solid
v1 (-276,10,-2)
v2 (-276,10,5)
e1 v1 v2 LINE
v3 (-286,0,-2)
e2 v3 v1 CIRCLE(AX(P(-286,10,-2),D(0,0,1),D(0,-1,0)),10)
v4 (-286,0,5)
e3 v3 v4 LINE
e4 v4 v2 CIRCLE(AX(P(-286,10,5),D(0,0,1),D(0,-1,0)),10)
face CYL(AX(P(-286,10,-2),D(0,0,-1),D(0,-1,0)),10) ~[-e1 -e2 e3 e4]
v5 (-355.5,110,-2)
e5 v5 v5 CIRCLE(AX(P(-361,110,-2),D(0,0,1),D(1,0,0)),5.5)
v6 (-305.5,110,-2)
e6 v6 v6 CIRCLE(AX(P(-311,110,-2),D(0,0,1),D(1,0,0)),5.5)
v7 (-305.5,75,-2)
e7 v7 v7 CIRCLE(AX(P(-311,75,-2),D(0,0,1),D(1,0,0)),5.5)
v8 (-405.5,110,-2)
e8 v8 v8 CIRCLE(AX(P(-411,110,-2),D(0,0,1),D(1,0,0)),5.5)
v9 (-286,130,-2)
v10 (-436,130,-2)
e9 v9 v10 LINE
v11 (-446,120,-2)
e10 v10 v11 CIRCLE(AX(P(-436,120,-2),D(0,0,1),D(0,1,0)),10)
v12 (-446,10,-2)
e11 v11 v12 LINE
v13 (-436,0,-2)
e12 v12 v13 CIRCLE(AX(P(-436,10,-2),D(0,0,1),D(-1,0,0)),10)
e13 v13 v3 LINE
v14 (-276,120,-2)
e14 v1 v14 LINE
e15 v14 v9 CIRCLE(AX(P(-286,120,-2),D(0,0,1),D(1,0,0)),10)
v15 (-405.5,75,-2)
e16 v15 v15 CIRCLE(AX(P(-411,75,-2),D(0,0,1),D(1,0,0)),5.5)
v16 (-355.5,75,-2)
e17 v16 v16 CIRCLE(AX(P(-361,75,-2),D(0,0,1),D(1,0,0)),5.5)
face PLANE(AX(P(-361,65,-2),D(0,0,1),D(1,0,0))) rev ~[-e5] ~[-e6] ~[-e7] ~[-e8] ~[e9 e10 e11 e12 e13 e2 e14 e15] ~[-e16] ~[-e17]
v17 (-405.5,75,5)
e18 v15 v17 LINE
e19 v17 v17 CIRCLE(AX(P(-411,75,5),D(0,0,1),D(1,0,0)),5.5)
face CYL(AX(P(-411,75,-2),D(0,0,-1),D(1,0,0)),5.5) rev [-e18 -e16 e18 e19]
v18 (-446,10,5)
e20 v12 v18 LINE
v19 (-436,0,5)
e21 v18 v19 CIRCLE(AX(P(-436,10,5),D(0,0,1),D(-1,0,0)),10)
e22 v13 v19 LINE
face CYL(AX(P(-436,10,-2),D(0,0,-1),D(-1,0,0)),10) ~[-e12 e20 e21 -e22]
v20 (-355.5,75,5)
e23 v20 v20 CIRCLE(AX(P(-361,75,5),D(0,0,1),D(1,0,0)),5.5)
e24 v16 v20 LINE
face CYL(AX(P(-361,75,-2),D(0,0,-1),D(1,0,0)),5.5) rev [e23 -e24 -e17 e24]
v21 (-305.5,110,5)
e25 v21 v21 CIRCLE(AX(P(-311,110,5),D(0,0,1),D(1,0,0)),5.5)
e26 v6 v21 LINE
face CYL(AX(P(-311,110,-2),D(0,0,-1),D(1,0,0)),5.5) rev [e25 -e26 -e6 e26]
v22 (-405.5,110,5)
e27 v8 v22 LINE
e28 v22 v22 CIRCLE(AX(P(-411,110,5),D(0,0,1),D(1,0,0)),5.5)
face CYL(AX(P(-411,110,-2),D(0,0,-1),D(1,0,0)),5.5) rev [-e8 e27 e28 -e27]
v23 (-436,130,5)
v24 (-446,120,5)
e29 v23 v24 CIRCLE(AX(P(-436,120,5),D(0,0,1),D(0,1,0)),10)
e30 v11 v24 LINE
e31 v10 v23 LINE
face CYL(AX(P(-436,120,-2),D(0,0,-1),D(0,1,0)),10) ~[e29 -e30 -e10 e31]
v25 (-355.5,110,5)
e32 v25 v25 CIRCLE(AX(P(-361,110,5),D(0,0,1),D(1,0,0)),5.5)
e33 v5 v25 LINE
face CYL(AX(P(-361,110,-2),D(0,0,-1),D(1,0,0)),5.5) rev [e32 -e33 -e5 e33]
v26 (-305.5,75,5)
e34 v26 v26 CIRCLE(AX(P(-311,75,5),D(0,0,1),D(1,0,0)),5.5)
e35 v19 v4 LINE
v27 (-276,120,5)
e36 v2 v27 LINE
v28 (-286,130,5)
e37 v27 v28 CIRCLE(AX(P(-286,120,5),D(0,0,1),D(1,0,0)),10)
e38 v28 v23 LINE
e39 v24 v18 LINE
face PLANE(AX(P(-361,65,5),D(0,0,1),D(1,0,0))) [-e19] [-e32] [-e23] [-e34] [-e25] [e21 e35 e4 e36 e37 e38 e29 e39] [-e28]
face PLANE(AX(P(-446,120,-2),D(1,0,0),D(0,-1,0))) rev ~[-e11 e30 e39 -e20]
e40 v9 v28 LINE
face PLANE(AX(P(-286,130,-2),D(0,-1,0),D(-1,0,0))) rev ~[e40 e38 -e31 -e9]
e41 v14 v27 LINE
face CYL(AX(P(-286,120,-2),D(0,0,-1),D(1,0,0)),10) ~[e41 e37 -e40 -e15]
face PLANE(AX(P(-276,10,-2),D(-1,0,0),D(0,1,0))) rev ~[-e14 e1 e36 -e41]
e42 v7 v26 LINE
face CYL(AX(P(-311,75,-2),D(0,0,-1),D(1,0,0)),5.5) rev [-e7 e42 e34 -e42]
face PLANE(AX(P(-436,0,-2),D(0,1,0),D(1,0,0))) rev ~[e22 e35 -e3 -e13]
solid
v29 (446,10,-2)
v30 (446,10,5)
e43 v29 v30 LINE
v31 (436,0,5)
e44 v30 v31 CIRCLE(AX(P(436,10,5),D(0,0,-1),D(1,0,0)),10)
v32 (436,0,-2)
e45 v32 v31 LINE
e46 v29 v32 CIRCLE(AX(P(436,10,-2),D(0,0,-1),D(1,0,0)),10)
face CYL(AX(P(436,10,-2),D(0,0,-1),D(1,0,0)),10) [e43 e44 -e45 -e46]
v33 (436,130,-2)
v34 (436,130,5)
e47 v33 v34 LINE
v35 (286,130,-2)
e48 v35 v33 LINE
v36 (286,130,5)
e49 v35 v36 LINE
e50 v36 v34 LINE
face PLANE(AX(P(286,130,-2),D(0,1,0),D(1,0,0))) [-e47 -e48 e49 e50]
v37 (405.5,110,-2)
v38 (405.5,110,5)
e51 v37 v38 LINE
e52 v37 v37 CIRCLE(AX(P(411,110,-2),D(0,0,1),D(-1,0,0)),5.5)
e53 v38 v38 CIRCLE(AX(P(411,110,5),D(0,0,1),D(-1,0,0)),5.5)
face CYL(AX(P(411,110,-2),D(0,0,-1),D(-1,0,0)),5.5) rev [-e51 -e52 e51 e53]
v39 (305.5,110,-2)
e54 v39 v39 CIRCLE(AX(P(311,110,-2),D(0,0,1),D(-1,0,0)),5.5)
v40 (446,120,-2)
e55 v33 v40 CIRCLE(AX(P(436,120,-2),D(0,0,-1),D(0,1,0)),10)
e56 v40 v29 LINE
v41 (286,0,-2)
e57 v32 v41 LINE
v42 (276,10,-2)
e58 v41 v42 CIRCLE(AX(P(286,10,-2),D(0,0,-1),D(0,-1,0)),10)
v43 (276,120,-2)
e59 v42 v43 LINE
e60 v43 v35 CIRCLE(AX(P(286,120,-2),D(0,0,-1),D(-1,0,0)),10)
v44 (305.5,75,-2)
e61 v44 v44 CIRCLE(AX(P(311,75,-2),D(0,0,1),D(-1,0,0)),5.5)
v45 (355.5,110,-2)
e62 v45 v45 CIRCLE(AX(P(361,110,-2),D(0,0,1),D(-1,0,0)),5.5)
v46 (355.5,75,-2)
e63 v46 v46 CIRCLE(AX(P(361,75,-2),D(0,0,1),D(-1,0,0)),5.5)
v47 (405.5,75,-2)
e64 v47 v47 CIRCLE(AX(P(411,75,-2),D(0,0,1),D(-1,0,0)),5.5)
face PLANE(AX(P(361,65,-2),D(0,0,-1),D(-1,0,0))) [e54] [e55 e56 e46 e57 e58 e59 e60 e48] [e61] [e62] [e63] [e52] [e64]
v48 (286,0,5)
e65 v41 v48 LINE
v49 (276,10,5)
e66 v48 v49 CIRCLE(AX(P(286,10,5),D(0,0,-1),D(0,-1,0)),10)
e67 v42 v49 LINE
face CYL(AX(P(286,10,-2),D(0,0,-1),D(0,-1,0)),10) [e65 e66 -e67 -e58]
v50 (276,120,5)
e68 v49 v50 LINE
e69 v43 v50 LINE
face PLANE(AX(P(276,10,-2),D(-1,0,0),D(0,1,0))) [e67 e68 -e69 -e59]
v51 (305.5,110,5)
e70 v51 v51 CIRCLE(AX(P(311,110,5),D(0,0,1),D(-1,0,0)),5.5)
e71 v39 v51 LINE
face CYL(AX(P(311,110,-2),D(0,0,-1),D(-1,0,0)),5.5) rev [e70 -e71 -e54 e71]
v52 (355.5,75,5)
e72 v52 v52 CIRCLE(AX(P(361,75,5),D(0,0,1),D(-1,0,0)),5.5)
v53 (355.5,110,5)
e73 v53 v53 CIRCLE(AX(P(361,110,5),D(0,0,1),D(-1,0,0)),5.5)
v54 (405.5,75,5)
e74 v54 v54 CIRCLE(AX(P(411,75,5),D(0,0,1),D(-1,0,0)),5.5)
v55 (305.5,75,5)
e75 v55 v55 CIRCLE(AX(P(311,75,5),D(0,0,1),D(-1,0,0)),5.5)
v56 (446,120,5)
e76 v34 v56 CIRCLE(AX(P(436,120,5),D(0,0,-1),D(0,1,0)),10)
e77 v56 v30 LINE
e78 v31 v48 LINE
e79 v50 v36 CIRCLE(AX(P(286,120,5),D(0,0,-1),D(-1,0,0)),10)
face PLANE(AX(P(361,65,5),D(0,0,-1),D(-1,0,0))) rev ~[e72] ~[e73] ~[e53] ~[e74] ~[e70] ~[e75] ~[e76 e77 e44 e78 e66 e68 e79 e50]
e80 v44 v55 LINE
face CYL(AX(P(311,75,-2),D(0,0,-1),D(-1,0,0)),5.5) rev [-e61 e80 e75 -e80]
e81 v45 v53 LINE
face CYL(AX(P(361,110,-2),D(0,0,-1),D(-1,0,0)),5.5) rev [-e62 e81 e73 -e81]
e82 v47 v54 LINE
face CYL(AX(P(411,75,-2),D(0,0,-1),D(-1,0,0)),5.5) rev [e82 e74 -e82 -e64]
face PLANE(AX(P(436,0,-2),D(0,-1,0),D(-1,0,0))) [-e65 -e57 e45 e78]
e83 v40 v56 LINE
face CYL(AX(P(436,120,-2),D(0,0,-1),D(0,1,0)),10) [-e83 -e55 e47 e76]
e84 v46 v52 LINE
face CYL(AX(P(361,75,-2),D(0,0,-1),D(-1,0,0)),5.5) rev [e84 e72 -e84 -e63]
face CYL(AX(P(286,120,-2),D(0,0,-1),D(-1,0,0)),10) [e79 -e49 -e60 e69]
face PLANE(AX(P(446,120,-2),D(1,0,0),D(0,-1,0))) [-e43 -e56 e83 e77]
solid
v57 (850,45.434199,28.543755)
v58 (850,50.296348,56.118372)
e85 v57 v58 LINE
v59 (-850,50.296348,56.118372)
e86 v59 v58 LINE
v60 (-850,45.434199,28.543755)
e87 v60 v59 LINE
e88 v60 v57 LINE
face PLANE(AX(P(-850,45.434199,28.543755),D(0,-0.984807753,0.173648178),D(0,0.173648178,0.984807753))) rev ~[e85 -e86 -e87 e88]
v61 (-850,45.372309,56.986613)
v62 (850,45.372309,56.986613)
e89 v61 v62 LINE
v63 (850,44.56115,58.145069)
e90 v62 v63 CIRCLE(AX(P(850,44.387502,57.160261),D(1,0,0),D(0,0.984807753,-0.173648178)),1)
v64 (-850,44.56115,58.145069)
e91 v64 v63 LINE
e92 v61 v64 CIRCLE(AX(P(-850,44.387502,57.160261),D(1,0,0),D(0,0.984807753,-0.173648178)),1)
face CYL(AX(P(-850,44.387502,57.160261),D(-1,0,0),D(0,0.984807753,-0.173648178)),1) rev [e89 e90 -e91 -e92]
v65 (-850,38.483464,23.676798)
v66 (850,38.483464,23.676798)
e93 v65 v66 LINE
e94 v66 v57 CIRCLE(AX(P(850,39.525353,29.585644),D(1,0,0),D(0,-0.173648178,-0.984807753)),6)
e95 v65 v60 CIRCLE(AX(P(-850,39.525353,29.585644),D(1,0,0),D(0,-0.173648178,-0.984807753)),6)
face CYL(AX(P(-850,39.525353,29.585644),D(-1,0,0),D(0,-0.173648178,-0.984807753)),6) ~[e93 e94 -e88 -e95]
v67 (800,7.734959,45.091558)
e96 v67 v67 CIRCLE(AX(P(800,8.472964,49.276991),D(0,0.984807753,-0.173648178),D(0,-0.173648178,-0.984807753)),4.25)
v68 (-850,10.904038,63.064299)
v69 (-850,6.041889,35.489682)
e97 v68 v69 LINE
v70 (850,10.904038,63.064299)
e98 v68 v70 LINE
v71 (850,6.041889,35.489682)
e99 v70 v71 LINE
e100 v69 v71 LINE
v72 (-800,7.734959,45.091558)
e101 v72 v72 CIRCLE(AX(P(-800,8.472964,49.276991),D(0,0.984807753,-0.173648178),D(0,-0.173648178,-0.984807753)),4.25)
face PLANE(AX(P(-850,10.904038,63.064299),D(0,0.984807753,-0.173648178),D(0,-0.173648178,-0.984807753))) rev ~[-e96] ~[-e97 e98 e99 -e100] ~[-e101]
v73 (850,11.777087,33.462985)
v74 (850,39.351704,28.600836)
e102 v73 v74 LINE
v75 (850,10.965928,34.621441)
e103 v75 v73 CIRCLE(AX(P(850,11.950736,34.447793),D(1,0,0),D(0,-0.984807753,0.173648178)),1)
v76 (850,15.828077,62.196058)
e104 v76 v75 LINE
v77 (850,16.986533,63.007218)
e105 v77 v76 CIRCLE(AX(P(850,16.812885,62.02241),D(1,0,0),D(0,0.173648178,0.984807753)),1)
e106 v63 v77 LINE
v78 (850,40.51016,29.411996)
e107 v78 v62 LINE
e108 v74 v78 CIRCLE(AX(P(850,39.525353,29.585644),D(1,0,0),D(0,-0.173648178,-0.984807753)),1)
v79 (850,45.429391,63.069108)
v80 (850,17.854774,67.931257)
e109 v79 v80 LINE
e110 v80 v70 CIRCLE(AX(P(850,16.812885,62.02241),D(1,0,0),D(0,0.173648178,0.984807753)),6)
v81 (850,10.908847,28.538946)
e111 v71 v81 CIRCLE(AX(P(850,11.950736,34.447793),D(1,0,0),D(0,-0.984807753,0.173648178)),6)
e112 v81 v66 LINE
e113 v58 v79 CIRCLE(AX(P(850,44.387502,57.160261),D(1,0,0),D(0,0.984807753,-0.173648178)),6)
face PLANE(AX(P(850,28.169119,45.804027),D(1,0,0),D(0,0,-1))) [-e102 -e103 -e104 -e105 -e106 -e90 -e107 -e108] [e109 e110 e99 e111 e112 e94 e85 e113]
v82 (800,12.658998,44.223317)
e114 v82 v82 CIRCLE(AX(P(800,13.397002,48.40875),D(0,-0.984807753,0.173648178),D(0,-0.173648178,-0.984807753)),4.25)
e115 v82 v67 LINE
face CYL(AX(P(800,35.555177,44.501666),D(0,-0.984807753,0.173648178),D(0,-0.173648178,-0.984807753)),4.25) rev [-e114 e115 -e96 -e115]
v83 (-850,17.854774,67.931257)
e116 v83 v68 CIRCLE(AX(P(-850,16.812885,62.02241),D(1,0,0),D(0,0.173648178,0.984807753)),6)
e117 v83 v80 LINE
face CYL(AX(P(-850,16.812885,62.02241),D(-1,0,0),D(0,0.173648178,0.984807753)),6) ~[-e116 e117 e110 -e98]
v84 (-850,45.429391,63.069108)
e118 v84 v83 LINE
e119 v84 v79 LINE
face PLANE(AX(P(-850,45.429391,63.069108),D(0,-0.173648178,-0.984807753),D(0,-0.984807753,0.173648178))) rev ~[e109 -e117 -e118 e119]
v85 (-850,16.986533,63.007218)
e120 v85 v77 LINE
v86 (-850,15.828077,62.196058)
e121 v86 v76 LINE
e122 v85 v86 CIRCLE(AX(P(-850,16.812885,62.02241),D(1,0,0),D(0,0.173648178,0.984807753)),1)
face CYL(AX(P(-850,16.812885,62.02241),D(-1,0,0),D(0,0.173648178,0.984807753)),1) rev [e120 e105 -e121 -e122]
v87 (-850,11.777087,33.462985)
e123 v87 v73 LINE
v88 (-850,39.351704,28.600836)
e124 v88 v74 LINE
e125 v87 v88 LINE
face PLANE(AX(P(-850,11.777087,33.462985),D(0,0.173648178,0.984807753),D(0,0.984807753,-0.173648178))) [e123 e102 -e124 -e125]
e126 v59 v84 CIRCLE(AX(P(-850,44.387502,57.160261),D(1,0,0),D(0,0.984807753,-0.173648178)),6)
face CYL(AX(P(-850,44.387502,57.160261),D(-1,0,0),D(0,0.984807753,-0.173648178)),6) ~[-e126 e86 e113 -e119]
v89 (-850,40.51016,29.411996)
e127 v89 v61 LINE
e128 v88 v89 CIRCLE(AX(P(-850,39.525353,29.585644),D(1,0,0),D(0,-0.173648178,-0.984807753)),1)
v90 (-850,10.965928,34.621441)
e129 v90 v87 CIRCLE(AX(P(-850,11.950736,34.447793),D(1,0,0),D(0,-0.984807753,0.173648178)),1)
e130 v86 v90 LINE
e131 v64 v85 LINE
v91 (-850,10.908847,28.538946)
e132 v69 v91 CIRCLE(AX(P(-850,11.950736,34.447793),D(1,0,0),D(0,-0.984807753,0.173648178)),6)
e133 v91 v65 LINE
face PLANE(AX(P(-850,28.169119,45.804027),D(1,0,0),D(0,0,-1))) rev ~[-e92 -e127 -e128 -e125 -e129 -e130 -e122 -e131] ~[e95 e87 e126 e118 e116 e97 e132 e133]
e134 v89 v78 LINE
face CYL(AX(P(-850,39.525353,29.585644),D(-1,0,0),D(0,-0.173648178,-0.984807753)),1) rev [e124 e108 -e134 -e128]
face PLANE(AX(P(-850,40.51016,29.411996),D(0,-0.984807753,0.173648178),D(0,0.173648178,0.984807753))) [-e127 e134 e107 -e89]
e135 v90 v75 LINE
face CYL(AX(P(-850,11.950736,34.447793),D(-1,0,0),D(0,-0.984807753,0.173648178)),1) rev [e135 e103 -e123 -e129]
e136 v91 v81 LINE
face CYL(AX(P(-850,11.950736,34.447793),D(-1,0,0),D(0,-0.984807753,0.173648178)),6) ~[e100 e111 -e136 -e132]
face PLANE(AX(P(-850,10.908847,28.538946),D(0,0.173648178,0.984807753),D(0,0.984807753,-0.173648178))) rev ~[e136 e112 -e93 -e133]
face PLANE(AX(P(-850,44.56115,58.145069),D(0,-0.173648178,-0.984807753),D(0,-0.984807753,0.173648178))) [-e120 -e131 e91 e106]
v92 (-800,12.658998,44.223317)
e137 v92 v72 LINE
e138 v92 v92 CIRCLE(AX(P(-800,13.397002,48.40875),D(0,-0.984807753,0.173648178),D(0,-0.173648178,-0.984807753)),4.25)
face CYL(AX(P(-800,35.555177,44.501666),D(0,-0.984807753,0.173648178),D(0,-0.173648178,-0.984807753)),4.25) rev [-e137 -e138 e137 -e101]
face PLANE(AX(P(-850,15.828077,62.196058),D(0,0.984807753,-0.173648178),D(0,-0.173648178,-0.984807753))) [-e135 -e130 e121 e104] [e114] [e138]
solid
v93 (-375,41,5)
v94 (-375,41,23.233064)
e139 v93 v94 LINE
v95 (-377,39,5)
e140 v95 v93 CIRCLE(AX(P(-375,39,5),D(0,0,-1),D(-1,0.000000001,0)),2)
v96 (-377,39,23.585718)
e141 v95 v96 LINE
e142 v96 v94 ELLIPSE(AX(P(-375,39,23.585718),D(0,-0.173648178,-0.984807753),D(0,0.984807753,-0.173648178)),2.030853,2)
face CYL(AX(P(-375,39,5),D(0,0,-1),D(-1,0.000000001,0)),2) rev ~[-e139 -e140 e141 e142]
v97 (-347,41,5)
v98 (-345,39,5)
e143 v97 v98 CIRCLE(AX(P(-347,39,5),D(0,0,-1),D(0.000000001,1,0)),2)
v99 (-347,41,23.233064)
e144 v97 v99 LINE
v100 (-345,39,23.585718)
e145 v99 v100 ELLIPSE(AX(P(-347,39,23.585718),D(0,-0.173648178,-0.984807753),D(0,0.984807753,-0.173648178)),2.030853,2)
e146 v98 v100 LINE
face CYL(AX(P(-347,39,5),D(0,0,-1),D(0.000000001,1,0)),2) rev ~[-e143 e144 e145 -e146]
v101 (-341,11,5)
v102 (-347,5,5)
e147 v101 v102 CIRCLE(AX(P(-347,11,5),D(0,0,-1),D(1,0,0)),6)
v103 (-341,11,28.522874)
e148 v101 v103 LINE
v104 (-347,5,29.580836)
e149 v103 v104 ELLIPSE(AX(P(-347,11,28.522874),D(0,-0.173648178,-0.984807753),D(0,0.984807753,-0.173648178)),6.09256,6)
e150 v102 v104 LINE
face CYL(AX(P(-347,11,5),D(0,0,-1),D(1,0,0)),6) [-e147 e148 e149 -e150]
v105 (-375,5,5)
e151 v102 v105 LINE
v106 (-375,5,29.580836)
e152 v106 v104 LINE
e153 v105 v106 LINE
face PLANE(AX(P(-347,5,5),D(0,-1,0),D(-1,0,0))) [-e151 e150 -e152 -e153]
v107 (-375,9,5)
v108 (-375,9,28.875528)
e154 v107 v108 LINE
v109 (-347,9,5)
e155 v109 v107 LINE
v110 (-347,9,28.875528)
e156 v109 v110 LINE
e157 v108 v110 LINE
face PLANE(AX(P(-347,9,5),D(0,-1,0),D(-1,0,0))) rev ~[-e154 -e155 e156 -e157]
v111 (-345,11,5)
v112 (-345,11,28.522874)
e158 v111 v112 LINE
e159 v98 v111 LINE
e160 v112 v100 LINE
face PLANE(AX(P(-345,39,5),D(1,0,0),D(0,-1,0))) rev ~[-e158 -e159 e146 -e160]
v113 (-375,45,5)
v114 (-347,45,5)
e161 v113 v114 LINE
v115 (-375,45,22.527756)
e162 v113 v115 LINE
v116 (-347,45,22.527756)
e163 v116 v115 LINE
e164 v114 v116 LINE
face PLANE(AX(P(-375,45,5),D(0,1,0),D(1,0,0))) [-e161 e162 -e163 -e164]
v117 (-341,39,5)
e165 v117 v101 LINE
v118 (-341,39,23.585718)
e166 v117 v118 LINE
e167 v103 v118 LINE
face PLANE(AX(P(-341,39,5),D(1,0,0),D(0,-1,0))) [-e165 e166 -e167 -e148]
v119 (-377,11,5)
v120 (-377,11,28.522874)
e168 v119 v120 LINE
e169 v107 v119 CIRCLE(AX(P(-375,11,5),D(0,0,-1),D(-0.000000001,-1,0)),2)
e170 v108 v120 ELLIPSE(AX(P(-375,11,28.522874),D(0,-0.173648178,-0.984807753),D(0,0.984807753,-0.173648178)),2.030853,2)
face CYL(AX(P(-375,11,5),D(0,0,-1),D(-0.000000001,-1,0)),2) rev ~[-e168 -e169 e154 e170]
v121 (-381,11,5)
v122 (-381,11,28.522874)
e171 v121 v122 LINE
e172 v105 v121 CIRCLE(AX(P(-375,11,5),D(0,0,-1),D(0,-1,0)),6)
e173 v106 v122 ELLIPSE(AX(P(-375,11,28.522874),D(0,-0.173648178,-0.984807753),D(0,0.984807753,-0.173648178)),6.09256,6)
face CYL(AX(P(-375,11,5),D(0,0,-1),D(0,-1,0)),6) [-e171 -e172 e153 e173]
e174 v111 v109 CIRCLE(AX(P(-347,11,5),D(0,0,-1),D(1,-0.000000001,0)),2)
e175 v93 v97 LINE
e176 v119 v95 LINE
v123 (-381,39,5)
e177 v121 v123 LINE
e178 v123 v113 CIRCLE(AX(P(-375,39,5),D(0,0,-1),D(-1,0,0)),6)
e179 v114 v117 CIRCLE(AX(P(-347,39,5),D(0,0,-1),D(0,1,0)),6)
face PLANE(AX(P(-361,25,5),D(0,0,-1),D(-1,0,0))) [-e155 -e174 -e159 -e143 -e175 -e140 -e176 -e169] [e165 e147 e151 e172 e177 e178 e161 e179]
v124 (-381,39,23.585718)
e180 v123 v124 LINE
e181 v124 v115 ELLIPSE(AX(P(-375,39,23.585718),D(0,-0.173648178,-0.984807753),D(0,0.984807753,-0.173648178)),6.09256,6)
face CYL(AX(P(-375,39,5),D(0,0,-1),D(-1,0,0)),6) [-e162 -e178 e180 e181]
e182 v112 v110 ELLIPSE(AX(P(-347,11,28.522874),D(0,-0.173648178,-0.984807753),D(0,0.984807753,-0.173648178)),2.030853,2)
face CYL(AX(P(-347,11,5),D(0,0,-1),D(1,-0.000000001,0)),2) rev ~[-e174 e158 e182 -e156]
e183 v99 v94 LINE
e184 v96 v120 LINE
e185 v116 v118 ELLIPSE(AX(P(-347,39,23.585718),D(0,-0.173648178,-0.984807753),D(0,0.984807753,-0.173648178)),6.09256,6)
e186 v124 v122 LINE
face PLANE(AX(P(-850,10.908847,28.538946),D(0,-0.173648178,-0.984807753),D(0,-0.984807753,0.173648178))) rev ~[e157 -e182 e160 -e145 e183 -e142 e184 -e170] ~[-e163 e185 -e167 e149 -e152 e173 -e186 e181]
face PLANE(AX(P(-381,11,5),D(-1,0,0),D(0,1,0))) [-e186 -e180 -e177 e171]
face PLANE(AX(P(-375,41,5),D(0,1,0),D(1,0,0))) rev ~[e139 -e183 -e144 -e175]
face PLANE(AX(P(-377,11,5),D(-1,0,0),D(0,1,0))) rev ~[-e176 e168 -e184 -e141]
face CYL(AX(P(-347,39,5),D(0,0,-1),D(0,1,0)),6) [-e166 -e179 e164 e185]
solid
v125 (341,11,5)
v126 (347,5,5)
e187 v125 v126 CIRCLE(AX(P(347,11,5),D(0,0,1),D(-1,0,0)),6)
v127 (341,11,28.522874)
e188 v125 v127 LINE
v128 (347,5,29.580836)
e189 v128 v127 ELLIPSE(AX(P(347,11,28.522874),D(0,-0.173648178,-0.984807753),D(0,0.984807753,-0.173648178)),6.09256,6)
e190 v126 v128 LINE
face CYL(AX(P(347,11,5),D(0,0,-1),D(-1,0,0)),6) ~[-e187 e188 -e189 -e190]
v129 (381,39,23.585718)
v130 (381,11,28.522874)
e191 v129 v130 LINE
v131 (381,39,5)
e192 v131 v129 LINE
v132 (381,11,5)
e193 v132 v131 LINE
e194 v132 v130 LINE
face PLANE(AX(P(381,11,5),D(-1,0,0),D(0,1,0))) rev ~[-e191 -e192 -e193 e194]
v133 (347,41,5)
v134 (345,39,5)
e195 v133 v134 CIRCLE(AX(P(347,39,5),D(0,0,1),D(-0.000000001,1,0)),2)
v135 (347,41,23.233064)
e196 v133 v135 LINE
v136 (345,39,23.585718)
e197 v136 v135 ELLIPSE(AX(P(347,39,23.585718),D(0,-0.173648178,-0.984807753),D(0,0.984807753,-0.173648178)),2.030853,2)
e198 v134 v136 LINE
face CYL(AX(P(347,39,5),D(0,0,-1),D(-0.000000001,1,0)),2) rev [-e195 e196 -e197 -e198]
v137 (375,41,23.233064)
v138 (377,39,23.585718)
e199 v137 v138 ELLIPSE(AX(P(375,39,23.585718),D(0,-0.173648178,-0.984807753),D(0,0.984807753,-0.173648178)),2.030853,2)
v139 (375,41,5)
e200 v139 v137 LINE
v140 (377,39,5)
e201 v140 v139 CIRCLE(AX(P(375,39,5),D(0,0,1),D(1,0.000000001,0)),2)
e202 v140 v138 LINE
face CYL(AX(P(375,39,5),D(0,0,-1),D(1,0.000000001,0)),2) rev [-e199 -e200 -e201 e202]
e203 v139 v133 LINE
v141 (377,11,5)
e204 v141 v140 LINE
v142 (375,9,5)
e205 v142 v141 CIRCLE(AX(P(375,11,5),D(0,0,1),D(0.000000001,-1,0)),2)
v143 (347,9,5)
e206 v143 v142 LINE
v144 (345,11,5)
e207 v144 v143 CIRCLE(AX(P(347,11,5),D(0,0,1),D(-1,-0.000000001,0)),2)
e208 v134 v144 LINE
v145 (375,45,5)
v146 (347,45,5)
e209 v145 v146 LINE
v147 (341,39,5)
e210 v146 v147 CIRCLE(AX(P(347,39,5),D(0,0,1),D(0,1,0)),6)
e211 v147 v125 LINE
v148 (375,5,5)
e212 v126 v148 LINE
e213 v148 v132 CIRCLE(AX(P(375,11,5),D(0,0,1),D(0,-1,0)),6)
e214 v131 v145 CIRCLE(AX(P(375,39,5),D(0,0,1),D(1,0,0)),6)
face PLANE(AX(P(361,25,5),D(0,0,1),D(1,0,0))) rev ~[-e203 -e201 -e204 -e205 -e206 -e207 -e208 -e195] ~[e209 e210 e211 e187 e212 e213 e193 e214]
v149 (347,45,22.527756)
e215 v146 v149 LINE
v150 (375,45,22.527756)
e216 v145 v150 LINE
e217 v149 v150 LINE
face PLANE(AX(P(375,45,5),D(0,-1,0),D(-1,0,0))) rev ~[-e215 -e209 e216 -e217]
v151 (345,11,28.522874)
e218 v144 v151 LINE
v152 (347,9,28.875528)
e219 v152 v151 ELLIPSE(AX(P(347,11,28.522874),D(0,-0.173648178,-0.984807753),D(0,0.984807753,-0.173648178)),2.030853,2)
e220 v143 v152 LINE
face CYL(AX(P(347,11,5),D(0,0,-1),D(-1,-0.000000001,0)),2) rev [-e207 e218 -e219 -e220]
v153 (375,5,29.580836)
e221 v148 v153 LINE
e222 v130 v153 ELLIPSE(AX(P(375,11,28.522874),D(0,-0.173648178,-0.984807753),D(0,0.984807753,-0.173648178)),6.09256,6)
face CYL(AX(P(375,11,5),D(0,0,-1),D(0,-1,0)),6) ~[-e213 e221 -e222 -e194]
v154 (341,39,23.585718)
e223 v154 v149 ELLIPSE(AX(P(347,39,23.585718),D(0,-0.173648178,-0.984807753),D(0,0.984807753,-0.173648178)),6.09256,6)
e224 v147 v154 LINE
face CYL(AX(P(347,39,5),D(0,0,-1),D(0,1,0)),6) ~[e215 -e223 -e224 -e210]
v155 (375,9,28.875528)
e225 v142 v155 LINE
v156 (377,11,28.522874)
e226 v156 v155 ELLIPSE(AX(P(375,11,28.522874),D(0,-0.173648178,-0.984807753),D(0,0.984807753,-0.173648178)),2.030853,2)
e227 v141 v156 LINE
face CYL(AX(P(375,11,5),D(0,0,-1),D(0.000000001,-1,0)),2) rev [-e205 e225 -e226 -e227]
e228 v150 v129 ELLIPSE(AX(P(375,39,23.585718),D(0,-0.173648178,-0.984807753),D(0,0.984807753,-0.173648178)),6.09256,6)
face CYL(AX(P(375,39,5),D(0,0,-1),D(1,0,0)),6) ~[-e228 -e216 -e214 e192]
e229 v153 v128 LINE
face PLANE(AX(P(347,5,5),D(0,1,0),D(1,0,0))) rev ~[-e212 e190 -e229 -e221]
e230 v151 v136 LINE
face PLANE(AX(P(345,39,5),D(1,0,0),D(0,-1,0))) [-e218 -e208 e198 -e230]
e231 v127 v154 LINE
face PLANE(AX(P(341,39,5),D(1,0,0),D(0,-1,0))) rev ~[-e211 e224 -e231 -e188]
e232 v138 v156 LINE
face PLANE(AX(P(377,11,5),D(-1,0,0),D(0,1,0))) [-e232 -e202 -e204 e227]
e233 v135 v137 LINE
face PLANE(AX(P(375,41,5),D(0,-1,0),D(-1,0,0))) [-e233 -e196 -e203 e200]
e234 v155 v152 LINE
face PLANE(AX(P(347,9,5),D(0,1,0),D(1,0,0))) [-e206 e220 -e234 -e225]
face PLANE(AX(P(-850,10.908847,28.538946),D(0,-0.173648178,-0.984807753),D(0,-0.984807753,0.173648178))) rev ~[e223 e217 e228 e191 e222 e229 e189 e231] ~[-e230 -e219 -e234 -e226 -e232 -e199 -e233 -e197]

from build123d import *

# Parameters (mm, degrees)
DODANIE_WYCI_GNI_CIE1_DEPTH        = 5
DODANIE_WYCI_GNI_CIE1_DEPTH_BACK   = 2
SZKIC1_R                           = 5.5
DODANIE_WYCI_GNI_CIE1_2_DEPTH      = 5
DODANIE_WYCI_GNI_CIE1_2_DEPTH_BACK = 2
DODANIE_WYCI_GNI_CIE2_DEPTH        = 850
DODANIE_WYCI_GNI_CIE2_DEPTH_BACK   = 850
DODANIE_WYCI_GNI_CIE3_REACH        = 864.19
OTW_R_GWINTOWANY_M101_AT_2_COUNT   = 2
OTW_R_GWINTOWANY_M101_AT_2_PITCH   = 1600


with BuildPart() as part:
    # Szkic1 → Dodanie-wyciągnięcie1 (new, two sides: drawn at the far end of the back side and taken through both)
    with BuildSketch(Plane.XY.offset(-DODANIE_WYCI_GNI_CIE1_DEPTH_BACK)):
        with BuildLine():
            Line((-436, 0), (-286, 0))
            ThreePointArc((-286, 0), (-278.928932188, 2.928932188), (-276, 10))
            Line((-276, 10), (-276, 120))
            ThreePointArc((-276, 120), (-278.928932188, 127.071067812), (-286, 130))
            Line((-286, 130), (-436, 130))
            ThreePointArc((-436, 130), (-443.071067812, 127.071067812), (-446, 120))
            Line((-446, 120), (-446, 10))
            ThreePointArc((-446, 10), (-443.071067812, 2.928932188), (-436, 0))
        make_face()
        with Locations((-411, 110)):
            Circle(SZKIC1_R, mode=Mode.SUBTRACT)
        with Locations((-361, 110)):
            Circle(SZKIC1_R, mode=Mode.SUBTRACT)
        with Locations((-311, 110)):
            Circle(SZKIC1_R, mode=Mode.SUBTRACT)
        with Locations((-411, 75)):
            Circle(SZKIC1_R, mode=Mode.SUBTRACT)
        with Locations((-361, 75)):
            Circle(SZKIC1_R, mode=Mode.SUBTRACT)
        with Locations((-311, 75)):
            Circle(SZKIC1_R, mode=Mode.SUBTRACT)
    extrude(amount=DODANIE_WYCI_GNI_CIE1_DEPTH + DODANIE_WYCI_GNI_CIE1_DEPTH_BACK)


with BuildPart() as body_2:
    # Szkic1 → Dodanie-wyci_gni_cie1 2 (new, two sides: drawn at the far end of the back side and taken through both)
    with BuildSketch(Plane.XY.offset(-DODANIE_WYCI_GNI_CIE1_2_DEPTH_BACK)):
        with BuildLine():
            Line((276, 10), (276, 120))
            ThreePointArc((276, 120), (278.928932188, 127.071067812), (286, 130))
            Line((286, 130), (436, 130))
            ThreePointArc((436, 130), (443.071067812, 127.071067812), (446, 120))
            Line((446, 120), (446, 10))
            ThreePointArc((446, 10), (443.071067812, 2.928932188), (436, 0))
            Line((436, 0), (286, 0))
            ThreePointArc((286, 0), (278.928932188, 2.928932188), (276, 10))
        make_face()
        with Locations(Location((311, 110, 0), (0, 0, 180))):
            Circle(SZKIC1_R, mode=Mode.SUBTRACT)
        with Locations(Location((361, 110, 0), (0, 0, 180))):
            Circle(SZKIC1_R, mode=Mode.SUBTRACT)
        with Locations(Location((411, 110, 0), (0, 0, 180))):
            Circle(SZKIC1_R, mode=Mode.SUBTRACT)
        with Locations(Location((311, 75, 0), (0, 0, 180))):
            Circle(SZKIC1_R, mode=Mode.SUBTRACT)
        with Locations(Location((361, 75, 0), (0, 0, 180))):
            Circle(SZKIC1_R, mode=Mode.SUBTRACT)
        with Locations(Location((411, 75, 0), (0, 0, 180))):
            Circle(SZKIC1_R, mode=Mode.SUBTRACT)
    extrude(amount=DODANIE_WYCI_GNI_CIE1_2_DEPTH + DODANIE_WYCI_GNI_CIE1_2_DEPTH_BACK)


with BuildPart() as body_3:
    # Szkic2 → Dodanie-wyciągnięcie2 (new, two sides: drawn at the far end of the back side and taken through both)
    with BuildSketch(Plane(origin=(0, 0, 0), x_dir=(0, 0, -1), z_dir=(1, 0, 0)).offset(-DODANIE_WYCI_GNI_CIE2_DEPTH_BACK)):
        with BuildLine():
            Line((-28.543754975, 45.434199186), (-56.118372059, 50.296348161))
            ThreePointArc((-56.118372059, 50.296348161), (-60.601719743, 49.302413909), (-63.069107643, 45.429390709))
            Line((-63.069107643, 45.429390709), (-67.931256618, 17.854773625))
            ThreePointArc((-67.931256618, 17.854773625), (-66.937322366, 13.371425941), (-63.064299166, 10.904038041))
            Line((-63.064299166, 10.904038041), (-35.489682082, 6.041889066))
            ThreePointArc((-35.489682082, 6.041889066), (-31.006334398, 7.035823318), (-28.538946498, 10.908846518))
            Line((-28.538946498, 10.908846518), (-23.676797523, 38.483463602))
            ThreePointArc((-23.676797523, 38.483463602), (-24.670731775, 42.966811287), (-28.543754975, 45.434199186))
        make_face()
        with BuildLine():
            Line((-29.411995863, 40.510160421), (-56.986612948, 45.372309396))
            ThreePointArc((-56.986612948, 45.372309396), (-57.733837562, 45.206653687), (-58.145068878, 44.561149821))
            Line((-58.145068878, 44.561149821), (-63.007217853, 16.986532736))
            ThreePointArc((-63.007217853, 16.986532736), (-62.841562144, 16.239308122), (-62.196058278, 15.828076806))
            Line((-62.196058278, 15.828076806), (-34.621441193, 10.965927831))
            ThreePointArc((-34.621441193, 10.965927831), (-33.874216579, 11.13158354), (-33.462985263, 11.777087406))
            Line((-33.462985263, 11.777087406), (-28.600836288, 39.351704491))
            ThreePointArc((-28.600836288, 39.351704491), (-28.766491997, 40.098929105), (-29.411995863, 40.510160421))
        make_face(mode=Mode.SUBTRACT)
    extrude(amount=DODANIE_WYCI_GNI_CIE2_DEPTH + DODANIE_WYCI_GNI_CIE2_DEPTH_BACK)

    # Szkic5 → Otwór gwintowany M101 (revolve, cut)
    with BuildSketch(Plane(origin=(-800, 8.472963553, 49.276990624), x_dir=(0, -0.17364817766693064, -0.9848077530122081), z_dir=(1, 0, 0))):
        Polygon((0, 0), (0, 30.053657631), (4.25, 27.5), (4.25, 0), align=None)
    otw_r_gwintowany_m101 = revolve(axis=Axis((-800, 2.219434322, 50.379656552), (0, 0.9848077530122081, -0.17364817766693066)), mode=Mode.SUBTRACT)

    # Otwór gwintowany M101 at 2: Otwór gwintowany M101 ×2
    with Locations(*[(i * OTW_R_GWINTOWANY_M101_AT_2_PITCH, 0, 0) for i in range(1, OTW_R_GWINTOWANY_M101_AT_2_COUNT)]):
        add(otw_r_gwintowany_m101, mode=Mode.SUBTRACT)


with BuildPart() as body_4:
    # Dodanie-wyciągnięcie3: up to this plane
    dodanie_wyci_gni_cie3_end = Plane(origin=(-850, 10.908846518, 28.538946498), z_dir=(0, -0.17364817766693066, -0.984807753012208))
    # Szkic3 → Dodanie-wyciągnięcie3 (new, up to the surface)
    with BuildSketch(Plane(origin=(0, 0, 5), x_dir=(-1, 0, 0), z_dir=(0, 0, -1)), mode=Mode.PRIVATE) as dodanie_wyci_gni_cie3_sk1:
        with BuildLine():
            Line((375, 45), (347, 45))
            ThreePointArc((347, 45), (342.757359313, 43.242640687), (341, 39))
            Line((341, 39), (341, 11))
            ThreePointArc((341, 11), (342.757359313, 6.757359313), (347, 5))
            Line((347, 5), (375, 5))
            ThreePointArc((375, 5), (379.242640687, 6.757359313), (381, 11))
            Line((381, 11), (381, 39))
            ThreePointArc((381, 39), (379.242640687, 43.242640687), (375, 45))
        make_face()
        with BuildLine():
            Line((375, 41), (347, 41))
            ThreePointArc((347, 41), (345.585786438, 40.414213562), (345, 39))
            Line((345, 39), (345, 11))
            ThreePointArc((345, 11), (345.585786438, 9.585786438), (347, 9))
            Line((347, 9), (375, 9))
            ThreePointArc((375, 9), (376.414213562, 9.585786438), (377, 11))
            Line((377, 11), (377, 39))
            ThreePointArc((377, 39), (376.414213562, 40.414213562), (375, 41))
        make_face(mode=Mode.SUBTRACT)
    dodanie_wyci_gni_cie3_tool1 = split(extrude(dodanie_wyci_gni_cie3_sk1.sketch, amount=-DODANIE_WYCI_GNI_CIE3_REACH, mode=Mode.PRIVATE), bisect_by=dodanie_wyci_gni_cie3_end, keep=Keep.BOTH, mode=Mode.PRIVATE)
    add(dodanie_wyci_gni_cie3_tool1.solids().sort_by_distance((-361, 44.434315, 5))[0])
    # Szkic3 → Dodanie-wyciągnięcie3 (new, up to the surface)
    with BuildSketch(Plane(origin=(0, 0, 5), x_dir=(-1, 0, 0), z_dir=(0, 0, -1)), mode=Mode.PRIVATE) as dodanie_wyci_gni_cie3_sk2:
        with BuildLine():
            Line((-381, 11), (-381, 39))
            ThreePointArc((-381, 39), (-379.242640687, 43.242640687), (-375, 45))
            Line((-375, 45), (-347, 45))
            ThreePointArc((-347, 45), (-342.757359313, 43.242640687), (-341, 39))
            Line((-341, 39), (-341, 11))
            ThreePointArc((-341, 11), (-342.757359313, 6.757359313), (-347, 5))
            Line((-347, 5), (-375, 5))
            ThreePointArc((-375, 5), (-379.242640687, 6.757359313), (-381, 11))
        make_face()
        with BuildLine():
            Line((-377, 11), (-377, 39))
            ThreePointArc((-377, 39), (-376.414213562, 40.414213562), (-375, 41))
            Line((-375, 41), (-347, 41))
            ThreePointArc((-347, 41), (-345.585786438, 40.414213562), (-345, 39))
            Line((-345, 39), (-345, 11))
            ThreePointArc((-345, 11), (-345.585786438, 9.585786438), (-347, 9))
            Line((-347, 9), (-375, 9))
            ThreePointArc((-375, 9), (-376.414213562, 9.585786438), (-377, 11))
        make_face(mode=Mode.SUBTRACT)
    dodanie_wyci_gni_cie3_tool2 = split(extrude(dodanie_wyci_gni_cie3_sk2.sketch, amount=-DODANIE_WYCI_GNI_CIE3_REACH, mode=Mode.PRIVATE), bisect_by=dodanie_wyci_gni_cie3_end, keep=Keep.BOTH, mode=Mode.PRIVATE)
    add(dodanie_wyci_gni_cie3_tool2.solids().sort_by_distance((361, 5.565685, 5))[0])


solid = Compound([part.part, body_2.part, body_3.part, body_4.part])
